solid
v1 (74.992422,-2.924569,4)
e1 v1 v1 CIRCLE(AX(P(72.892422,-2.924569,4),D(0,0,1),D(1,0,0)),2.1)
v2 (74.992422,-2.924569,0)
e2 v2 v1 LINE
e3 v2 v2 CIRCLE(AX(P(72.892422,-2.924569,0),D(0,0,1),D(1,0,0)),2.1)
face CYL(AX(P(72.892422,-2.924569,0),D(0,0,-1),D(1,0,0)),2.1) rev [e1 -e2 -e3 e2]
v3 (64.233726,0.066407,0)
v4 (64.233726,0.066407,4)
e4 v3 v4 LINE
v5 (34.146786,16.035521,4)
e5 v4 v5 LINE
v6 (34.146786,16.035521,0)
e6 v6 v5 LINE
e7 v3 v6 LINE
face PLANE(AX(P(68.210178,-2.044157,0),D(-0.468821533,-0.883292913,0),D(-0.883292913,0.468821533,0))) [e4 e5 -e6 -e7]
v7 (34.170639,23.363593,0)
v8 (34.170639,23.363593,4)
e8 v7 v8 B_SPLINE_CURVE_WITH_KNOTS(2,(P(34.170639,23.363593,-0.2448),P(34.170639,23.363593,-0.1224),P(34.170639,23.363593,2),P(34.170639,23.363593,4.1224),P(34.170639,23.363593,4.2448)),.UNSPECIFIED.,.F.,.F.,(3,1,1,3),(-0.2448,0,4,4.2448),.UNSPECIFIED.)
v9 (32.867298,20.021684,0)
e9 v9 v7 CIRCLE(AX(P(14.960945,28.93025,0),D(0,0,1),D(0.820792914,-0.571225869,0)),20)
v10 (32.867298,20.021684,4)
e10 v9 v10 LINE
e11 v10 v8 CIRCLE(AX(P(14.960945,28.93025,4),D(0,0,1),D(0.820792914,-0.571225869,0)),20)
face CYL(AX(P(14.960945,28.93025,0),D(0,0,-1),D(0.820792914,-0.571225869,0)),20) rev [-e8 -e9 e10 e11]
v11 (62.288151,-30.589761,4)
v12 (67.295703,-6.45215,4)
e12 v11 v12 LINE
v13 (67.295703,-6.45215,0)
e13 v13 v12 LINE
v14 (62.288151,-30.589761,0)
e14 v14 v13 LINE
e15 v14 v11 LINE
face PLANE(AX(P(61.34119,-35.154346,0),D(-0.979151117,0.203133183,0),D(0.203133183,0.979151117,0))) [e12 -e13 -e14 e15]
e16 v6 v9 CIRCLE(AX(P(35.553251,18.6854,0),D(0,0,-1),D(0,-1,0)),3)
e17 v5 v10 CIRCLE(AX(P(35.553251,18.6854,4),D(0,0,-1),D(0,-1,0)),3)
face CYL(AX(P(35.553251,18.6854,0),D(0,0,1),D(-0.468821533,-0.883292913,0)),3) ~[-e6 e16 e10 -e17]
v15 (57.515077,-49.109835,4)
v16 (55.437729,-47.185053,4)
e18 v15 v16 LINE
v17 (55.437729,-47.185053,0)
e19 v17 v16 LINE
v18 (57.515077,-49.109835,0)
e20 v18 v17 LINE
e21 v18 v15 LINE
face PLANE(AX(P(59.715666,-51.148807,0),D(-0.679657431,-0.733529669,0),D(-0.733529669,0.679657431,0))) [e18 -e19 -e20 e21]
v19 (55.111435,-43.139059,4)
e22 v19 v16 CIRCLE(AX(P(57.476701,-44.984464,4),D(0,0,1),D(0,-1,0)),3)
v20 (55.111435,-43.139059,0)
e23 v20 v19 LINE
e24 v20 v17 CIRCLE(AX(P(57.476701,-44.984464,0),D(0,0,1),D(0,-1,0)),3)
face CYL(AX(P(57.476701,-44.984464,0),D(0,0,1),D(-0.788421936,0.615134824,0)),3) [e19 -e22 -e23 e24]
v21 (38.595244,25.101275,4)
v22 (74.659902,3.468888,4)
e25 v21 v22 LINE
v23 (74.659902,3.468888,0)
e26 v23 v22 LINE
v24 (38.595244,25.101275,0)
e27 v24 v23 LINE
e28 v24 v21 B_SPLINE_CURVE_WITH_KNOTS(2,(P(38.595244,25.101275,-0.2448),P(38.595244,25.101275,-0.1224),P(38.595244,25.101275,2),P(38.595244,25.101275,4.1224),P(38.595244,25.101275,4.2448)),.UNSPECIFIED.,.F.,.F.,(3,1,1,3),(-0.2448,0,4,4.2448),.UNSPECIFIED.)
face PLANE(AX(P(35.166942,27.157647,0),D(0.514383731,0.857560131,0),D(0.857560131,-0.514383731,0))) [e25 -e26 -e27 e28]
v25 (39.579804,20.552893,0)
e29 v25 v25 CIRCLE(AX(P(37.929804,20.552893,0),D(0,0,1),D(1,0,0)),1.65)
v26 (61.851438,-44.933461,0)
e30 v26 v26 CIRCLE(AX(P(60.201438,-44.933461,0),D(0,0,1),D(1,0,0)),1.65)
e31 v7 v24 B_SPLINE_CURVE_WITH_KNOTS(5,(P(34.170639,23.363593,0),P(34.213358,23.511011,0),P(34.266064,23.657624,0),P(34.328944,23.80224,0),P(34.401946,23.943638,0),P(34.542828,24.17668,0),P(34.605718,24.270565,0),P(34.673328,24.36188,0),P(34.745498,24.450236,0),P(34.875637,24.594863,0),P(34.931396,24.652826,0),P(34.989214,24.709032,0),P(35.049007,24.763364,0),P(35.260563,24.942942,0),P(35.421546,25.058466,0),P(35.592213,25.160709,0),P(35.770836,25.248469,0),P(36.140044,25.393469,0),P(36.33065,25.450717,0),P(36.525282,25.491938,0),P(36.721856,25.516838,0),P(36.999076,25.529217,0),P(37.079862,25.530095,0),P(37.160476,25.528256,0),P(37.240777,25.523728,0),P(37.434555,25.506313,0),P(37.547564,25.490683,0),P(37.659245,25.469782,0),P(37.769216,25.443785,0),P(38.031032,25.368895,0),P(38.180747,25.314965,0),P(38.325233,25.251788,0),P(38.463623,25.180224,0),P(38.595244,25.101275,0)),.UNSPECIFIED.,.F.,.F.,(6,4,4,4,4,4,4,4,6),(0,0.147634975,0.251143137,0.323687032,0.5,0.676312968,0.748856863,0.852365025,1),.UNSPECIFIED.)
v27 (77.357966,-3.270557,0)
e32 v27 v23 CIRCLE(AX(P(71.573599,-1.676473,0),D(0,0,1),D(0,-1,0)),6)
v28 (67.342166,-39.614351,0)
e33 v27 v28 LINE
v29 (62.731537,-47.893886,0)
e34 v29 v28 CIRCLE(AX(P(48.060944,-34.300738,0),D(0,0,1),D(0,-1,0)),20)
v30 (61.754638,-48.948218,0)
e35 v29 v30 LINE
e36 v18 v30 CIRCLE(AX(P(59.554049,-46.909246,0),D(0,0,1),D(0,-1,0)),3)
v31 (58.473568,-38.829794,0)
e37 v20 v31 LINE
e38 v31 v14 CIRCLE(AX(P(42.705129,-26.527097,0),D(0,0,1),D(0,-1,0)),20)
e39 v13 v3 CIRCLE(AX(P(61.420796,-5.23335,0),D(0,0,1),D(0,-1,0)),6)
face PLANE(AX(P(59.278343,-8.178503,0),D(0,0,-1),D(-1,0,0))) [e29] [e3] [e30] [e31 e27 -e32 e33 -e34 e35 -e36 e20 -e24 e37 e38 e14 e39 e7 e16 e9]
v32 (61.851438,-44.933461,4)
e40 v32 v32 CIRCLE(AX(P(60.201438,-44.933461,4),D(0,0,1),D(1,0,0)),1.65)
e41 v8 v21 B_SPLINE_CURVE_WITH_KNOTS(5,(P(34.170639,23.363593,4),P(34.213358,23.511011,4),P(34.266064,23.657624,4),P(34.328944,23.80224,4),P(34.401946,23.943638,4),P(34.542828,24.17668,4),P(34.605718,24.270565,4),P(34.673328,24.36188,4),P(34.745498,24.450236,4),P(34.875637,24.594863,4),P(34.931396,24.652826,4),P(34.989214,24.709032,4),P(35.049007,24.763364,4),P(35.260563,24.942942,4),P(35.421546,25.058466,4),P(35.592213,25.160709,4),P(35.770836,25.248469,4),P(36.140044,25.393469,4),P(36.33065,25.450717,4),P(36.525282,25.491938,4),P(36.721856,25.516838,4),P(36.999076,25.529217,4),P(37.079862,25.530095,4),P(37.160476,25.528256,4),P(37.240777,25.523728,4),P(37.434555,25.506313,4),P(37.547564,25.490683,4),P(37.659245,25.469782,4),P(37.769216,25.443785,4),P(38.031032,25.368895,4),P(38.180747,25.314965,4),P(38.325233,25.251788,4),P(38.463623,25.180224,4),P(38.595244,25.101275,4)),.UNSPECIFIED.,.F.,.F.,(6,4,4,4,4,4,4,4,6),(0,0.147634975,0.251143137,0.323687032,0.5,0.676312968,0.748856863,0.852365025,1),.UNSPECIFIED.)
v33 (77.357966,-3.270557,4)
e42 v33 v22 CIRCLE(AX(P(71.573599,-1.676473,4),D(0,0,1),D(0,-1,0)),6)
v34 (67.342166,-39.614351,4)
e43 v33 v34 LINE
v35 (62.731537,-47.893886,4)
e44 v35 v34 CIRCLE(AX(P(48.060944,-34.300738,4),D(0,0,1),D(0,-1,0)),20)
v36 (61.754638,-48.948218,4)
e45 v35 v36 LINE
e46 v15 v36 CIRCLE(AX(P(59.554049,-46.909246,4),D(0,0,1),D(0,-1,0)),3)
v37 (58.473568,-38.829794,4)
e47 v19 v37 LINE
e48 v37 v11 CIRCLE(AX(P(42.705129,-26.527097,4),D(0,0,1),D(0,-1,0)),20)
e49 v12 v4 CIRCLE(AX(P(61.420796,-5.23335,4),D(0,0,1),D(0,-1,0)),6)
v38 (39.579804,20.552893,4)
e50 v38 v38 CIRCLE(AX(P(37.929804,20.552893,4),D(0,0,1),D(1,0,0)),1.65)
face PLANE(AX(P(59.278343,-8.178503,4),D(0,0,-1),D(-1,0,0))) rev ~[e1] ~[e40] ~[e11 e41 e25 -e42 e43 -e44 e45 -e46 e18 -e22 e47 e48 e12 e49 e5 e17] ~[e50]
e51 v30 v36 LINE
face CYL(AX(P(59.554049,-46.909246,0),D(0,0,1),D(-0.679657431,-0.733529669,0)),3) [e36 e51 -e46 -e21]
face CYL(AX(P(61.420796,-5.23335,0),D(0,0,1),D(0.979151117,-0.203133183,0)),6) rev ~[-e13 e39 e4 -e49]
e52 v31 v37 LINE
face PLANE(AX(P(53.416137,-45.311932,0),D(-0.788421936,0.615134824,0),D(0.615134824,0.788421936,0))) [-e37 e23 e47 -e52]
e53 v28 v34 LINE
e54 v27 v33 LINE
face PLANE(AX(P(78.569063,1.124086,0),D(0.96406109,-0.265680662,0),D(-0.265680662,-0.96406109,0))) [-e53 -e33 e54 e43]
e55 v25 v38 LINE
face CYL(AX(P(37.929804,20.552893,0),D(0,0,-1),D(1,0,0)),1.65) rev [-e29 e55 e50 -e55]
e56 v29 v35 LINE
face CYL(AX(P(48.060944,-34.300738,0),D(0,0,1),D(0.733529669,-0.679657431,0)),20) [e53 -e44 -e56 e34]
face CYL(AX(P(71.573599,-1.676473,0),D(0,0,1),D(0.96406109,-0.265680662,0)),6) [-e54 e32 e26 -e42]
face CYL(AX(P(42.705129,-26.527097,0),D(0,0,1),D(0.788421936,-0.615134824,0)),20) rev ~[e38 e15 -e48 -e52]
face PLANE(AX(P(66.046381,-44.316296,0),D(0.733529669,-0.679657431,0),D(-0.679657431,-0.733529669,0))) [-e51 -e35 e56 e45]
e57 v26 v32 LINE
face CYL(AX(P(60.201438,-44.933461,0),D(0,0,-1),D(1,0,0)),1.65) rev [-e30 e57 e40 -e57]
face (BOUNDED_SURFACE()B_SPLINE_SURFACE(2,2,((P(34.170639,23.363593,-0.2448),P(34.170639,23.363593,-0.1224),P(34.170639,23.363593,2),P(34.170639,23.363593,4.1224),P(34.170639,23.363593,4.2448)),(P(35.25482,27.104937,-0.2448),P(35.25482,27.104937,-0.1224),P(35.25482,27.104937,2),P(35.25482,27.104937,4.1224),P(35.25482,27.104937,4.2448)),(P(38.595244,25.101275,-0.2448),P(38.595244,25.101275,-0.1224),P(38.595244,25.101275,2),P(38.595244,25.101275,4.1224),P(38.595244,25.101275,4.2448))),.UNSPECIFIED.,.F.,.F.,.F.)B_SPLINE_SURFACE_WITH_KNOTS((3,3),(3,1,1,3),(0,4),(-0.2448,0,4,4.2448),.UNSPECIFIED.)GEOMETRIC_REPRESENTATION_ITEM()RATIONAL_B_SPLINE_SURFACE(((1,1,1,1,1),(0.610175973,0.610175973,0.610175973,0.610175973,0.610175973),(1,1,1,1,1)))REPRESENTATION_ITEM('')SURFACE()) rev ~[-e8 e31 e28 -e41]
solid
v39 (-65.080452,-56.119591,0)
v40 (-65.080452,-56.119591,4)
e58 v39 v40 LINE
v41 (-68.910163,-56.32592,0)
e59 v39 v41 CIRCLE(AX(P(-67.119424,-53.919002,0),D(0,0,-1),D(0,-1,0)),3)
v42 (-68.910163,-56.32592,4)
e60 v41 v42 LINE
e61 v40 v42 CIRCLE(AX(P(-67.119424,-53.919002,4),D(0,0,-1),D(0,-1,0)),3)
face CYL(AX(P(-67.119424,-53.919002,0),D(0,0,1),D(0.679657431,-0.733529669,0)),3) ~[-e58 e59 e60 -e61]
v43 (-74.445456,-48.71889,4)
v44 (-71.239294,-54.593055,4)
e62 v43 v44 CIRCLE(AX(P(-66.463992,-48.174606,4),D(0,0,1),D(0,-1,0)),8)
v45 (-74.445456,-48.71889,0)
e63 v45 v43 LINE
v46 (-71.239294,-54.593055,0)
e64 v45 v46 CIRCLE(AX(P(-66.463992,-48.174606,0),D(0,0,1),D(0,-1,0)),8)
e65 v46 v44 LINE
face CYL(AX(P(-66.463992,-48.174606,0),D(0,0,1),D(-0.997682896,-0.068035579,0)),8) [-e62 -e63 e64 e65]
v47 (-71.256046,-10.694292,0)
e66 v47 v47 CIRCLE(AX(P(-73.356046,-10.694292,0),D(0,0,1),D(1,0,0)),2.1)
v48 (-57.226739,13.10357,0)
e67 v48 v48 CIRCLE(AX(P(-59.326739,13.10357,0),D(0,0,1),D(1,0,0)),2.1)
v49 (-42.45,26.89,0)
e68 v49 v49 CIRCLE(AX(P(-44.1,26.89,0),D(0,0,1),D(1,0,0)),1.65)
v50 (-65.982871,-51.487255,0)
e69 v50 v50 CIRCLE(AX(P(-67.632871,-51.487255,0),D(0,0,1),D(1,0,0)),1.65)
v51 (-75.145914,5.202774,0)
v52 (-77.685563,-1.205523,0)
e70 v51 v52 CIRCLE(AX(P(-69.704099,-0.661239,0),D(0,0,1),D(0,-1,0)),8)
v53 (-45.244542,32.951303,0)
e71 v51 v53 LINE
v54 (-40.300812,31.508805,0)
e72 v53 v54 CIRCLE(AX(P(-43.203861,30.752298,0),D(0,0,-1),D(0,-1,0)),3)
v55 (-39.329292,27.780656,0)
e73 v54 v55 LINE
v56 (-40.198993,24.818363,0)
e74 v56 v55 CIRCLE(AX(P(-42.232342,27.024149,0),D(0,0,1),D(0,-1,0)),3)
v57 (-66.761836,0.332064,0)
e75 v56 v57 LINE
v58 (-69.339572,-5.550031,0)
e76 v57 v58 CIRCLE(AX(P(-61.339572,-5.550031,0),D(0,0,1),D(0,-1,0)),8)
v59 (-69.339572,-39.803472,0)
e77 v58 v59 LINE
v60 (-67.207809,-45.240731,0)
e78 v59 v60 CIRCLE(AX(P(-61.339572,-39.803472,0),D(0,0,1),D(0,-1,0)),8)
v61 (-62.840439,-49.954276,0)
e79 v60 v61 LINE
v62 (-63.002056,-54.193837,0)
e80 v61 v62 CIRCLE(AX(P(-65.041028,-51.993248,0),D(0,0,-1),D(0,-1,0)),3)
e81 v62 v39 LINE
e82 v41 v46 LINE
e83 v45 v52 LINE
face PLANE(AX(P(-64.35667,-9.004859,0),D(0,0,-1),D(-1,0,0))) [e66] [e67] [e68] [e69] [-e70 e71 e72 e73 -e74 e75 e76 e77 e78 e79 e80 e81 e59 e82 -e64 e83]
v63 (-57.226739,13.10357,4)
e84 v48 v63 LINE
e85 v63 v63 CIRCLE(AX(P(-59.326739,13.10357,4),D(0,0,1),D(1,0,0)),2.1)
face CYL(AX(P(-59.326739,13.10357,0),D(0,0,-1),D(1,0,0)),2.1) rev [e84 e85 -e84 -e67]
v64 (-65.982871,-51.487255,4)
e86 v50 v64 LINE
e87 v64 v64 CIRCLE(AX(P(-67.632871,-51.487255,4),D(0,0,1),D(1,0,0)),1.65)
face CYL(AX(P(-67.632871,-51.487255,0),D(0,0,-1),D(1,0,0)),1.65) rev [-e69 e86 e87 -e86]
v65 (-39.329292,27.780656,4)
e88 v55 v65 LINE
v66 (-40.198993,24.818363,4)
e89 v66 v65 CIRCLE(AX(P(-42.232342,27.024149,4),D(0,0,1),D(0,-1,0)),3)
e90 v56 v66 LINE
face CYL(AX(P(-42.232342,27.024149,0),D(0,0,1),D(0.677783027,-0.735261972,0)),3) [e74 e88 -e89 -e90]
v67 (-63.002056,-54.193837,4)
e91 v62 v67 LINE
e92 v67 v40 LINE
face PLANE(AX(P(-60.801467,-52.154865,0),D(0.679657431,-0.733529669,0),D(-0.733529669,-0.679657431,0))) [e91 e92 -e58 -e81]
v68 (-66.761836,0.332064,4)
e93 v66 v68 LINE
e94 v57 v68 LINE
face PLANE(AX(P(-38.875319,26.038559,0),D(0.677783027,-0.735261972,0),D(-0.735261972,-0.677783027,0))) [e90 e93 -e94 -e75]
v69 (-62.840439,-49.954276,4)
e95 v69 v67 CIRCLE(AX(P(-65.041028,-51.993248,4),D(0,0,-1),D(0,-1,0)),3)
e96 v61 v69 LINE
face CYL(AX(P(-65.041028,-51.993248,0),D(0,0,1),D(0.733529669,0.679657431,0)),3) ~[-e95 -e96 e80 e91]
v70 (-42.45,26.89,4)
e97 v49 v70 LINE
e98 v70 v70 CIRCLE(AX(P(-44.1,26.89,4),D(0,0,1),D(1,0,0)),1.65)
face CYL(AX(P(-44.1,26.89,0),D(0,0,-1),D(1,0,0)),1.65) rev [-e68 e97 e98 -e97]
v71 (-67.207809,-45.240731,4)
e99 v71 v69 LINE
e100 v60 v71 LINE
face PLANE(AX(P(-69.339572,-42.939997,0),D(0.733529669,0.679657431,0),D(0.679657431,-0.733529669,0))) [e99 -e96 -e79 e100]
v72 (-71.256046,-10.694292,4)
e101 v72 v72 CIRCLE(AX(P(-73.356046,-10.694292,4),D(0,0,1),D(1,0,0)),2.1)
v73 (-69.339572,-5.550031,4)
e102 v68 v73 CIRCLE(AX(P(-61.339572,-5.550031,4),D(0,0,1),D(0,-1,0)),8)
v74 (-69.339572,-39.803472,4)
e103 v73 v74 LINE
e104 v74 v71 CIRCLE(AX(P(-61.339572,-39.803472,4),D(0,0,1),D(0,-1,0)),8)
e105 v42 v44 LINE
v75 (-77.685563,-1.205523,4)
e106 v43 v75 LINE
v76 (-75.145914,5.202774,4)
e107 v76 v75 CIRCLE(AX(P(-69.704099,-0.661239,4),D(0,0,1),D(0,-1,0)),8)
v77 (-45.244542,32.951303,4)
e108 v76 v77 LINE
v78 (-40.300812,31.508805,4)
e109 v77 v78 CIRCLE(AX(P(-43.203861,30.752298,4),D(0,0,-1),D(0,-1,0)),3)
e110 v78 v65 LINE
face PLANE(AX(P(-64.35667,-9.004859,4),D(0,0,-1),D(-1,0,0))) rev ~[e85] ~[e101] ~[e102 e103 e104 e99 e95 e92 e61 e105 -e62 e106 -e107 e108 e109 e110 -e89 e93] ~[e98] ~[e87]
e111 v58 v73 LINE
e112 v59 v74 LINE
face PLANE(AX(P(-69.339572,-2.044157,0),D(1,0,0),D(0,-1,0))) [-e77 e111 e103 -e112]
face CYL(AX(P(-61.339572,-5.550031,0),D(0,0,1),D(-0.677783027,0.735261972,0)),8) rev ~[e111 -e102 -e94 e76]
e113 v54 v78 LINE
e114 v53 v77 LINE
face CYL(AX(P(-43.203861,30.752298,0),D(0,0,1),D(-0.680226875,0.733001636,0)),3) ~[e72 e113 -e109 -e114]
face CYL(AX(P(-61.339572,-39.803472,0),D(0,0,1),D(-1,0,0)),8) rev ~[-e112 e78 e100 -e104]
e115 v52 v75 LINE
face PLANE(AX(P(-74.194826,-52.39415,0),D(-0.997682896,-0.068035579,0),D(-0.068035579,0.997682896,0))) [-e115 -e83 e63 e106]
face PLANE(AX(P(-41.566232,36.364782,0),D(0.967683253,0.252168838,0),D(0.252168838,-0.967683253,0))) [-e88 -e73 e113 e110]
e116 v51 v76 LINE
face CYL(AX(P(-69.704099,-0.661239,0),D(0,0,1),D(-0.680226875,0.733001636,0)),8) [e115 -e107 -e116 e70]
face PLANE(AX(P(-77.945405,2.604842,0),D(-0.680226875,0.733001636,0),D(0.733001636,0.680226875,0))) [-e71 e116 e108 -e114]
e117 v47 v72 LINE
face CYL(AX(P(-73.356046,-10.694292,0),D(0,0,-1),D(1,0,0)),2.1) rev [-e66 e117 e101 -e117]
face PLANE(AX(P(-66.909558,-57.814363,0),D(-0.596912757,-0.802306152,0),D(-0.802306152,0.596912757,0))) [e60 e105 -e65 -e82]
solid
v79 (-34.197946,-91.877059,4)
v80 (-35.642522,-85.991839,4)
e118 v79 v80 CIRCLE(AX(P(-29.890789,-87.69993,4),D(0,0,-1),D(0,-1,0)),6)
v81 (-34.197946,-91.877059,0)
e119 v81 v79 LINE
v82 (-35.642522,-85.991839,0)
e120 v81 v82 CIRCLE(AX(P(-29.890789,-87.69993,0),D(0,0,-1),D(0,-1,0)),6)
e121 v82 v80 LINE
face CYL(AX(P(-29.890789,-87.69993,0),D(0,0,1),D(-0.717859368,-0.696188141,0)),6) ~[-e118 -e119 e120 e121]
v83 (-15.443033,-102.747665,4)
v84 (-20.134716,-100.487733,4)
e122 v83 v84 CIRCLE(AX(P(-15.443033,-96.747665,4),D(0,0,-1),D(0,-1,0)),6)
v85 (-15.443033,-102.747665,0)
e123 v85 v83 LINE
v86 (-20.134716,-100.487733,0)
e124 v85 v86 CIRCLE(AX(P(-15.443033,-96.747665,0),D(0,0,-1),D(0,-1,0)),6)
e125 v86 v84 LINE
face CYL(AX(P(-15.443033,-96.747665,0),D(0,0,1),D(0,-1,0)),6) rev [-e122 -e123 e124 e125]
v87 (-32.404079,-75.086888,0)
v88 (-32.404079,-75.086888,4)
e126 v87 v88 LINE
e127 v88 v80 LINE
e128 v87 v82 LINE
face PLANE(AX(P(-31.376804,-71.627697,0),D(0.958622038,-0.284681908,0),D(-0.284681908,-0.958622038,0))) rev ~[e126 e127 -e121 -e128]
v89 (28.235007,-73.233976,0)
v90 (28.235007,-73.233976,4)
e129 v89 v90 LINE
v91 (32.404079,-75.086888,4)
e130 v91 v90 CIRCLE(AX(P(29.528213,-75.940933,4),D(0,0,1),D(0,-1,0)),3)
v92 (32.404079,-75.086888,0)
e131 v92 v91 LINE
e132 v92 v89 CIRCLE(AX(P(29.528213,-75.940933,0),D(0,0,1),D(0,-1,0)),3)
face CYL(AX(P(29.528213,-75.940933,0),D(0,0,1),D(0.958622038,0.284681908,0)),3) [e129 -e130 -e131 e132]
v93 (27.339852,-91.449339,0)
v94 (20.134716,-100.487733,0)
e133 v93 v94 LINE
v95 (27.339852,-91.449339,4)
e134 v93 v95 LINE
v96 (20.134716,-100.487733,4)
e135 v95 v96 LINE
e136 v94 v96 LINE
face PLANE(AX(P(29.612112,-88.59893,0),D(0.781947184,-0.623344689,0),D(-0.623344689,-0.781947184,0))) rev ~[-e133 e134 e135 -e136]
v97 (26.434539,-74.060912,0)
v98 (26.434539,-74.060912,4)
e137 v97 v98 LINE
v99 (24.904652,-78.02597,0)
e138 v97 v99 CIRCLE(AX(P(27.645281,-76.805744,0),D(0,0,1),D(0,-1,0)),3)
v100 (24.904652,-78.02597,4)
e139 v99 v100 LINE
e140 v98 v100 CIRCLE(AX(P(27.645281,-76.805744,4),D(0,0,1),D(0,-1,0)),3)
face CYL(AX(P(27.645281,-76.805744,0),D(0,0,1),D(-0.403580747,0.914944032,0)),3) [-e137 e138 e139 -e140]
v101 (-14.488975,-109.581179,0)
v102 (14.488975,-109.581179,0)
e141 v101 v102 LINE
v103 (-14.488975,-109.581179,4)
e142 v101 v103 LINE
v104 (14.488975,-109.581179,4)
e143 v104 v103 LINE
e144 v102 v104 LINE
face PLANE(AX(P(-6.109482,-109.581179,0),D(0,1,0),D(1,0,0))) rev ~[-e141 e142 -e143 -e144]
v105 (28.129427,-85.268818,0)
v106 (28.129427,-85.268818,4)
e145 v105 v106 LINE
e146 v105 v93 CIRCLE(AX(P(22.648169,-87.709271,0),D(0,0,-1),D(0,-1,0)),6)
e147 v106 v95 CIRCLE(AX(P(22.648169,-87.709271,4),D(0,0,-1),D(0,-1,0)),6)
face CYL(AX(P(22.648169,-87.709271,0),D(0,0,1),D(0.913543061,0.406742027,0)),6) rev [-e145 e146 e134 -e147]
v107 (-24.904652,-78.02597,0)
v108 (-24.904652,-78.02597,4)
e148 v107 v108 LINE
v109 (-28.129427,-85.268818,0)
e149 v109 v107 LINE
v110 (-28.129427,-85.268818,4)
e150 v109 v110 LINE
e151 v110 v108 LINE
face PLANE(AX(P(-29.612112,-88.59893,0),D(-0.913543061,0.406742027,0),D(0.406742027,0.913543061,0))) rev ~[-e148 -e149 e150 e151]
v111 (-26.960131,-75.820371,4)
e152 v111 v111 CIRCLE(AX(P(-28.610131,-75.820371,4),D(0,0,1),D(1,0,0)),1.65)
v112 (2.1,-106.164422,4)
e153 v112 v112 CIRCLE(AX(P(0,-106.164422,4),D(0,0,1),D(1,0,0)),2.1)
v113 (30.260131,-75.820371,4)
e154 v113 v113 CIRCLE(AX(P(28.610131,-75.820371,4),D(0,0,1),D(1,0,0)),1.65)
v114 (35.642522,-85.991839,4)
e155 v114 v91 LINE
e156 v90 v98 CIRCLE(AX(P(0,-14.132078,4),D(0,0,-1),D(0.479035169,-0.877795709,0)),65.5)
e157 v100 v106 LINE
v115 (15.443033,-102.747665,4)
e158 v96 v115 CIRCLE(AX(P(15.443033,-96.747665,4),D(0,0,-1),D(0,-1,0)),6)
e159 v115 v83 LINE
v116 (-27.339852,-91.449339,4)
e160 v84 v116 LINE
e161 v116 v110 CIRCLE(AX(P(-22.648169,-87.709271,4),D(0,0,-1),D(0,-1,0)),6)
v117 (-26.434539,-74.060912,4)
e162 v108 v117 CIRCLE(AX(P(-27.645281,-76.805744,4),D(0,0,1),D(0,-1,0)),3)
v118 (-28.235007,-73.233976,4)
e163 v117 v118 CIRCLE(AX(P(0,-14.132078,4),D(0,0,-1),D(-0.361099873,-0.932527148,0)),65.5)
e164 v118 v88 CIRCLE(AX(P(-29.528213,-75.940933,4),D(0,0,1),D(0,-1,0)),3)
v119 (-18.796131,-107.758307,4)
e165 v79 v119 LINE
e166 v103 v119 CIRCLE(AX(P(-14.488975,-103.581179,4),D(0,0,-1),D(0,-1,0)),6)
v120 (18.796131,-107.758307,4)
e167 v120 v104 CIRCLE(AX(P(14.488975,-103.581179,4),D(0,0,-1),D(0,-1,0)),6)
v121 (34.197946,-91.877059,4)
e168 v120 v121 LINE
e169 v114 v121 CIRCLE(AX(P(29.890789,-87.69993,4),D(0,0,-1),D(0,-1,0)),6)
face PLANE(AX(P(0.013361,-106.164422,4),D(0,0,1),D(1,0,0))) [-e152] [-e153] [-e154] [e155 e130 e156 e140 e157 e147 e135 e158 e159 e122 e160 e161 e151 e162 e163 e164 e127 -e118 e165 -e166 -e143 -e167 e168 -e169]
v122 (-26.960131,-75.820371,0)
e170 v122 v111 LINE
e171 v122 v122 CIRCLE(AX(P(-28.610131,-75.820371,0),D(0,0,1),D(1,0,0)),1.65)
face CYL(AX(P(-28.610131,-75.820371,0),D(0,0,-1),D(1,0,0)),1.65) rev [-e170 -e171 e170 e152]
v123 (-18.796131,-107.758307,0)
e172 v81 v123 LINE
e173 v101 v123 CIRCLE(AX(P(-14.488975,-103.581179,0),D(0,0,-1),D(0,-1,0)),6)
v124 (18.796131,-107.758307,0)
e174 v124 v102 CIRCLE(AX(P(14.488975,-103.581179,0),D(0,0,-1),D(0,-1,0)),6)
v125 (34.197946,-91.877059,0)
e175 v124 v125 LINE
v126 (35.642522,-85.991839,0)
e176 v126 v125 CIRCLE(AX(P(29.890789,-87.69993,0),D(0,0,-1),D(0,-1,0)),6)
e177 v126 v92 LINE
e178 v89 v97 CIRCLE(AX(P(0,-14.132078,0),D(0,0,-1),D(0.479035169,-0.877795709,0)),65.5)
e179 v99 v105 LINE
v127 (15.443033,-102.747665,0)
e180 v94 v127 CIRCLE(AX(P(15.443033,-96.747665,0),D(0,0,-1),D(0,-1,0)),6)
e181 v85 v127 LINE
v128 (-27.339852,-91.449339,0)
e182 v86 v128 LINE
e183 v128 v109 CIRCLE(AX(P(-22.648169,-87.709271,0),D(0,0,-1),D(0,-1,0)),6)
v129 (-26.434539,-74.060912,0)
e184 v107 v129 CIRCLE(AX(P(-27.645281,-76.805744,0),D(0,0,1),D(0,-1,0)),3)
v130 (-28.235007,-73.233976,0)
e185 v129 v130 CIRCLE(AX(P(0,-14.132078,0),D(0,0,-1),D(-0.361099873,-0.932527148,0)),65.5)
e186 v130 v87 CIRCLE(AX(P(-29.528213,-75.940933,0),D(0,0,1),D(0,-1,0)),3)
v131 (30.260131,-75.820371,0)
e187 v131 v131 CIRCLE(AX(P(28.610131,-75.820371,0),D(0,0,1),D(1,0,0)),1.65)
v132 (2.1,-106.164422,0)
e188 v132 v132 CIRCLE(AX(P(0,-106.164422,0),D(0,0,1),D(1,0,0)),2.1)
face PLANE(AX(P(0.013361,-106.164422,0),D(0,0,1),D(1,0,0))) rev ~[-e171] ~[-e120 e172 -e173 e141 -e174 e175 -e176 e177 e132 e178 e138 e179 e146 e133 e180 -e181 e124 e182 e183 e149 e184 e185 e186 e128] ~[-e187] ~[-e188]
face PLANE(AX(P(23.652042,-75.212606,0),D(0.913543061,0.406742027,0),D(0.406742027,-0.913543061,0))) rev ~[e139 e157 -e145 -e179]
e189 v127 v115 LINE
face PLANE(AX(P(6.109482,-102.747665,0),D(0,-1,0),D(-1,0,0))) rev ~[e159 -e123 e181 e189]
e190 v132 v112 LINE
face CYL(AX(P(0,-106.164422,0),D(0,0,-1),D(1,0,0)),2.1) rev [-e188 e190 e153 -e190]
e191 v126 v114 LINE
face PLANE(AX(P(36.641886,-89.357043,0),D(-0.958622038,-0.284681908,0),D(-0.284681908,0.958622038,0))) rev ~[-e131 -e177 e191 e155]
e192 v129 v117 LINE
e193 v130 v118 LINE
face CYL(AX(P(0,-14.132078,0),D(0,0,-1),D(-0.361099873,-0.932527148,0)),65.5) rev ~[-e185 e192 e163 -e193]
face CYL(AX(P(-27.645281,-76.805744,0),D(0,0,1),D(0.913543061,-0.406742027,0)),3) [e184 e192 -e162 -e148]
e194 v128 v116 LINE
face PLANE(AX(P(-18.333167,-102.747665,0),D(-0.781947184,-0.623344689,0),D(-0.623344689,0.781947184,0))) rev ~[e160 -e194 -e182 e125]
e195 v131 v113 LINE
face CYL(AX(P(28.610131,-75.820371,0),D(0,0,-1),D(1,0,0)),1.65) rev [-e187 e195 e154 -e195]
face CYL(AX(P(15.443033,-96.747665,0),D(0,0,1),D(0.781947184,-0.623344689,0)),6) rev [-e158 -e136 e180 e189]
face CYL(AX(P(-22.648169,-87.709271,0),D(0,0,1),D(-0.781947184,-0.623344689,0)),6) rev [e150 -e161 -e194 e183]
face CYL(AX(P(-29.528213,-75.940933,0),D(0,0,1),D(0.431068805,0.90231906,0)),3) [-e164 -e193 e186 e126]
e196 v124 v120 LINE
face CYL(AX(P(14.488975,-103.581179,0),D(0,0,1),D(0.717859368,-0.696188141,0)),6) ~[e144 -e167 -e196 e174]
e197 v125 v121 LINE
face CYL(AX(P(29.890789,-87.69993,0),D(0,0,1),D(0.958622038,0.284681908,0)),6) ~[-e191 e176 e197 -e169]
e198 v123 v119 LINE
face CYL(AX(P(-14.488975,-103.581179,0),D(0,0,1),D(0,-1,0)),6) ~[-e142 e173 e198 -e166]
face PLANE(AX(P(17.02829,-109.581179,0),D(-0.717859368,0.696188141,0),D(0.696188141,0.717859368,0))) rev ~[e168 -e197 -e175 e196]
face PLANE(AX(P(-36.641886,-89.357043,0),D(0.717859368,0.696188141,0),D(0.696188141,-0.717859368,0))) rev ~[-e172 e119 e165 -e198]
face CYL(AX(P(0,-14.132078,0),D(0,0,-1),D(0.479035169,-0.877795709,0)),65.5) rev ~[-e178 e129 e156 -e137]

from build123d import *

# Parameters (mm, degrees)
SKETCH_1_R      = 1.65
SKETCH_1_R_2    = 2.1
EXTRUDE_1_DEPTH = 4
FILLET_1_R      = 20
FILLET_2_R      = 3
FILLET_3_R      = 6
FILLET_4_R      = 3
FILLET_5_R      = 3
FILLET_6_R      = 6
FILLET_7_R      = 6
FILLET_8_R      = 3
FILLET_9_R      = 8


with BuildPart() as part:
    # 草图1 → 凸台-拉伸1 (new body)
    # profile 1 of 5: a face of its own
    with BuildSketch(Plane.XY):
        Polygon((-77.945405083, 2.604841831), (-41.566231945, 36.364781808), (-38.875318831, 26.038559191), (-69.339571839, -2.044157442), (-69.339571839, -42.939996997), (-60.801466828, -52.154864748), (-66.909557952, -57.814362512), (-74.194826339, -52.394150256), align=None)
        with Locations((-44.1, 26.89)):
            Circle(SKETCH_1_R, mode=Mode.SUBTRACT)
        with Locations((-67.632870637, -51.487254798)):
            Circle(SKETCH_1_R, mode=Mode.SUBTRACT)
        with Locations((-59.326738736, 13.103569808)):
            Circle(SKETCH_1_R_2, mode=Mode.SUBTRACT)
        with Locations((-73.356046193, -10.69429247)):
            Circle(SKETCH_1_R_2, mode=Mode.SUBTRACT)
    # profile 2 of 5: a face of its own
    with BuildSketch(Plane.XY):
        with BuildLine():
            ThreePointArc((31.376803603, 17.505732499), (33.128070546, 20.566305741), (34.314610381, 23.886873116))
            Line((34.314610381, 23.886873116), (35.166942334, 27.157647426))
            Line((35.166942334, 27.157647426), (78.569062885, 1.124085584))
            Line((78.569062885, 1.124085584), (66.046380792, -44.316295638))
            Line((66.046380792, -44.316295638), (59.715665593, -51.148807449))
            Line((59.715665593, -51.148807449), (53.416137419, -45.311932247))
            Line((53.416137419, -45.311932247), (61.341189712, -35.154345924))
            Line((61.341189712, -35.154345924), (68.210178439, -2.044157442))
            Line((68.210178439, -2.044157442), (31.376803603, 17.505732499))
        make_face()
        with Locations((37.929803622, 20.552893435)):
            Circle(SKETCH_1_R, mode=Mode.SUBTRACT)
        with Locations((60.201437699, -44.933461153)):
            Circle(SKETCH_1_R, mode=Mode.SUBTRACT)
        with Locations((72.892421676, -2.924569169)):
            Circle(SKETCH_1_R_2, mode=Mode.SUBTRACT)
    # profile 3 of 5: a face of its own
    with BuildSketch(Plane.XY):
        with BuildLine():
            Line((36.641886012, -89.35704275), (31.376803603, -71.627696822))
            ThreePointArc((31.376803603, -71.627696822), (27.572746465, -73.545827587), (23.652041706, -75.212606079))
            Line((23.652041706, -75.212606079), (29.612111549, -88.598929818))
            Line((29.612111549, -88.598929818), (18.333166842, -102.74766519))
            Line((18.333166842, -102.74766519), (6.109482288, -102.74766519))
            ThreePointArc((6.109482288, -102.74766519), (6.773713015, -104.398972349), (7, -106.164421864))
            ThreePointArc((7, -106.164421864), (6.773713015, -107.92987138), (6.109482288, -109.581178539))
            Line((6.109482288, -109.581178539), (17.028290172, -109.581178539))
            Line((17.028290172, -109.581178539), (36.641886012, -89.35704275))
        make_face()
        with Locations((28.610131123, -75.820370589)):
            Circle(SKETCH_1_R, mode=Mode.SUBTRACT)
    # profile 4 of 5: a face of its own
    with BuildSketch(Plane.XY):
        with BuildLine():
            Line((-17.028290172, -109.581178539), (-6.109482288, -109.581178539))
            ThreePointArc((-6.109482288, -109.581178539), (-7, -106.164421864), (-6.109482288, -102.74766519))
            Line((-6.109482288, -102.74766519), (-18.333166842, -102.74766519))
            Line((-18.333166842, -102.74766519), (-29.612111549, -88.598929818))
            Line((-29.612111549, -88.598929818), (-23.652041706, -75.212606079))
            ThreePointArc((-23.652041706, -75.212606079), (-27.572746465, -73.545827587), (-31.376803603, -71.627696822))
            Line((-31.376803603, -71.627696822), (-36.641886012, -89.35704275))
            Line((-36.641886012, -89.35704275), (-17.028290172, -109.581178539))
        make_face()
        with Locations((-28.610131123, -75.820370589)):
            Circle(SKETCH_1_R, mode=Mode.SUBTRACT)
    # profile 5 of 5: a face of its own
    with BuildSketch(Plane.XY):
        with BuildLine():
            Line((-6.109482288, -109.581178539), (6.109482288, -109.581178539))
            ThreePointArc((6.109482288, -109.581178539), (6.773713015, -107.92987138), (7, -106.164421864))
            ThreePointArc((7, -106.164421864), (6.773713015, -104.398972349), (6.109482288, -102.74766519))
            Line((6.109482288, -102.74766519), (-6.109482288, -102.74766519))
            ThreePointArc((-6.109482288, -102.74766519), (-7, -106.164421864), (-6.109482288, -109.581178539))
        make_face()
        with Locations((0, -106.164421864)):
            Circle(SKETCH_1_R_2, mode=Mode.SUBTRACT)
    extrude(amount=EXTRUDE_1_DEPTH)

    # 圆角1
    fillet_1_edges = [part.edges().sort_by_distance(p)[0] for p in [
        (66.046380792, -44.316295638, 2),
        (61.341189712, -35.154345924, 2),
    ]]
    fillet(fillet_1_edges, radius=FILLET_1_R)

    # 圆角2
    fillet_2_edges = [part.edges().sort_by_distance(p)[0] for p in [
        (59.715665593, -51.148807449, 2),
        (53.416137419, -45.311932247, 2),
    ]]
    fillet(fillet_2_edges, radius=FILLET_2_R)

    # 圆角3
    fillet_3_edges = [part.edges().sort_by_distance(p)[0] for p in [
        (78.569062885, 1.124085584, 2),
        (68.210178439, -2.044157442, 2),
    ]]
    fillet(fillet_3_edges, radius=FILLET_3_R)

    # 圆角4
    fillet_4_edges = [part.edges().sort_by_distance(p)[0] for p in [
        (35.166942334, 27.157647426, 2),
        (31.376803603, 17.505732499, 2),
    ]]
    fillet(fillet_4_edges, radius=FILLET_4_R)

    # 圆角5
    fillet_5_edges = [part.edges().sort_by_distance(p)[0] for p in [
        (31.376803603, -71.627696822, 2),
        (-31.376803603, -71.627696822, 2),
        (-23.652041706, -75.212606079, 2),
        (23.652041706, -75.212606079, 2),
    ]]
    fillet(fillet_5_edges, radius=FILLET_5_R)

    # 圆角6
    fillet_6_edges = [part.edges().sort_by_distance(p)[0] for p in [
        (36.641886012, -89.35704275, 2),
        (-36.641886012, -89.35704275, 2),
        (-29.612111549, -88.598929818, 2),
        (29.612111549, -88.598929818, 2),
    ]]
    fillet(fillet_6_edges, radius=FILLET_6_R)

    # 圆角7
    fillet_7_edges = [part.edges().sort_by_distance(p)[0] for p in [
        (17.028290172, -109.581178539, 2),
        (-17.028290172, -109.581178539, 2),
        (-18.333166842, -102.74766519, 2),
        (18.333166842, -102.74766519, 2),
    ]]
    fillet(fillet_7_edges, radius=FILLET_7_R)

    # 圆角8
    fillet_8_edges = [part.edges().sort_by_distance(p)[0] for p in [
        (-41.566231945, 36.364781808, 2),
        (-38.875318831, 26.038559191, 2),
        (-60.801466828, -52.154864748, 2),
        (-66.909557952, -57.814362512, 2),
    ]]
    fillet(fillet_8_edges, radius=FILLET_8_R)

    # 圆角9
    fillet_9_edges = [part.edges().sort_by_distance(p)[0] for p in [
        (-69.339571839, -2.044157442, 2),
        (-69.339571839, -42.939996997, 2),
        (-74.194826339, -52.394150256, 2),
        (-77.945405083, 2.604841831, 2),
    ]]
    fillet(fillet_9_edges, radius=FILLET_9_R)


solid = part.part
